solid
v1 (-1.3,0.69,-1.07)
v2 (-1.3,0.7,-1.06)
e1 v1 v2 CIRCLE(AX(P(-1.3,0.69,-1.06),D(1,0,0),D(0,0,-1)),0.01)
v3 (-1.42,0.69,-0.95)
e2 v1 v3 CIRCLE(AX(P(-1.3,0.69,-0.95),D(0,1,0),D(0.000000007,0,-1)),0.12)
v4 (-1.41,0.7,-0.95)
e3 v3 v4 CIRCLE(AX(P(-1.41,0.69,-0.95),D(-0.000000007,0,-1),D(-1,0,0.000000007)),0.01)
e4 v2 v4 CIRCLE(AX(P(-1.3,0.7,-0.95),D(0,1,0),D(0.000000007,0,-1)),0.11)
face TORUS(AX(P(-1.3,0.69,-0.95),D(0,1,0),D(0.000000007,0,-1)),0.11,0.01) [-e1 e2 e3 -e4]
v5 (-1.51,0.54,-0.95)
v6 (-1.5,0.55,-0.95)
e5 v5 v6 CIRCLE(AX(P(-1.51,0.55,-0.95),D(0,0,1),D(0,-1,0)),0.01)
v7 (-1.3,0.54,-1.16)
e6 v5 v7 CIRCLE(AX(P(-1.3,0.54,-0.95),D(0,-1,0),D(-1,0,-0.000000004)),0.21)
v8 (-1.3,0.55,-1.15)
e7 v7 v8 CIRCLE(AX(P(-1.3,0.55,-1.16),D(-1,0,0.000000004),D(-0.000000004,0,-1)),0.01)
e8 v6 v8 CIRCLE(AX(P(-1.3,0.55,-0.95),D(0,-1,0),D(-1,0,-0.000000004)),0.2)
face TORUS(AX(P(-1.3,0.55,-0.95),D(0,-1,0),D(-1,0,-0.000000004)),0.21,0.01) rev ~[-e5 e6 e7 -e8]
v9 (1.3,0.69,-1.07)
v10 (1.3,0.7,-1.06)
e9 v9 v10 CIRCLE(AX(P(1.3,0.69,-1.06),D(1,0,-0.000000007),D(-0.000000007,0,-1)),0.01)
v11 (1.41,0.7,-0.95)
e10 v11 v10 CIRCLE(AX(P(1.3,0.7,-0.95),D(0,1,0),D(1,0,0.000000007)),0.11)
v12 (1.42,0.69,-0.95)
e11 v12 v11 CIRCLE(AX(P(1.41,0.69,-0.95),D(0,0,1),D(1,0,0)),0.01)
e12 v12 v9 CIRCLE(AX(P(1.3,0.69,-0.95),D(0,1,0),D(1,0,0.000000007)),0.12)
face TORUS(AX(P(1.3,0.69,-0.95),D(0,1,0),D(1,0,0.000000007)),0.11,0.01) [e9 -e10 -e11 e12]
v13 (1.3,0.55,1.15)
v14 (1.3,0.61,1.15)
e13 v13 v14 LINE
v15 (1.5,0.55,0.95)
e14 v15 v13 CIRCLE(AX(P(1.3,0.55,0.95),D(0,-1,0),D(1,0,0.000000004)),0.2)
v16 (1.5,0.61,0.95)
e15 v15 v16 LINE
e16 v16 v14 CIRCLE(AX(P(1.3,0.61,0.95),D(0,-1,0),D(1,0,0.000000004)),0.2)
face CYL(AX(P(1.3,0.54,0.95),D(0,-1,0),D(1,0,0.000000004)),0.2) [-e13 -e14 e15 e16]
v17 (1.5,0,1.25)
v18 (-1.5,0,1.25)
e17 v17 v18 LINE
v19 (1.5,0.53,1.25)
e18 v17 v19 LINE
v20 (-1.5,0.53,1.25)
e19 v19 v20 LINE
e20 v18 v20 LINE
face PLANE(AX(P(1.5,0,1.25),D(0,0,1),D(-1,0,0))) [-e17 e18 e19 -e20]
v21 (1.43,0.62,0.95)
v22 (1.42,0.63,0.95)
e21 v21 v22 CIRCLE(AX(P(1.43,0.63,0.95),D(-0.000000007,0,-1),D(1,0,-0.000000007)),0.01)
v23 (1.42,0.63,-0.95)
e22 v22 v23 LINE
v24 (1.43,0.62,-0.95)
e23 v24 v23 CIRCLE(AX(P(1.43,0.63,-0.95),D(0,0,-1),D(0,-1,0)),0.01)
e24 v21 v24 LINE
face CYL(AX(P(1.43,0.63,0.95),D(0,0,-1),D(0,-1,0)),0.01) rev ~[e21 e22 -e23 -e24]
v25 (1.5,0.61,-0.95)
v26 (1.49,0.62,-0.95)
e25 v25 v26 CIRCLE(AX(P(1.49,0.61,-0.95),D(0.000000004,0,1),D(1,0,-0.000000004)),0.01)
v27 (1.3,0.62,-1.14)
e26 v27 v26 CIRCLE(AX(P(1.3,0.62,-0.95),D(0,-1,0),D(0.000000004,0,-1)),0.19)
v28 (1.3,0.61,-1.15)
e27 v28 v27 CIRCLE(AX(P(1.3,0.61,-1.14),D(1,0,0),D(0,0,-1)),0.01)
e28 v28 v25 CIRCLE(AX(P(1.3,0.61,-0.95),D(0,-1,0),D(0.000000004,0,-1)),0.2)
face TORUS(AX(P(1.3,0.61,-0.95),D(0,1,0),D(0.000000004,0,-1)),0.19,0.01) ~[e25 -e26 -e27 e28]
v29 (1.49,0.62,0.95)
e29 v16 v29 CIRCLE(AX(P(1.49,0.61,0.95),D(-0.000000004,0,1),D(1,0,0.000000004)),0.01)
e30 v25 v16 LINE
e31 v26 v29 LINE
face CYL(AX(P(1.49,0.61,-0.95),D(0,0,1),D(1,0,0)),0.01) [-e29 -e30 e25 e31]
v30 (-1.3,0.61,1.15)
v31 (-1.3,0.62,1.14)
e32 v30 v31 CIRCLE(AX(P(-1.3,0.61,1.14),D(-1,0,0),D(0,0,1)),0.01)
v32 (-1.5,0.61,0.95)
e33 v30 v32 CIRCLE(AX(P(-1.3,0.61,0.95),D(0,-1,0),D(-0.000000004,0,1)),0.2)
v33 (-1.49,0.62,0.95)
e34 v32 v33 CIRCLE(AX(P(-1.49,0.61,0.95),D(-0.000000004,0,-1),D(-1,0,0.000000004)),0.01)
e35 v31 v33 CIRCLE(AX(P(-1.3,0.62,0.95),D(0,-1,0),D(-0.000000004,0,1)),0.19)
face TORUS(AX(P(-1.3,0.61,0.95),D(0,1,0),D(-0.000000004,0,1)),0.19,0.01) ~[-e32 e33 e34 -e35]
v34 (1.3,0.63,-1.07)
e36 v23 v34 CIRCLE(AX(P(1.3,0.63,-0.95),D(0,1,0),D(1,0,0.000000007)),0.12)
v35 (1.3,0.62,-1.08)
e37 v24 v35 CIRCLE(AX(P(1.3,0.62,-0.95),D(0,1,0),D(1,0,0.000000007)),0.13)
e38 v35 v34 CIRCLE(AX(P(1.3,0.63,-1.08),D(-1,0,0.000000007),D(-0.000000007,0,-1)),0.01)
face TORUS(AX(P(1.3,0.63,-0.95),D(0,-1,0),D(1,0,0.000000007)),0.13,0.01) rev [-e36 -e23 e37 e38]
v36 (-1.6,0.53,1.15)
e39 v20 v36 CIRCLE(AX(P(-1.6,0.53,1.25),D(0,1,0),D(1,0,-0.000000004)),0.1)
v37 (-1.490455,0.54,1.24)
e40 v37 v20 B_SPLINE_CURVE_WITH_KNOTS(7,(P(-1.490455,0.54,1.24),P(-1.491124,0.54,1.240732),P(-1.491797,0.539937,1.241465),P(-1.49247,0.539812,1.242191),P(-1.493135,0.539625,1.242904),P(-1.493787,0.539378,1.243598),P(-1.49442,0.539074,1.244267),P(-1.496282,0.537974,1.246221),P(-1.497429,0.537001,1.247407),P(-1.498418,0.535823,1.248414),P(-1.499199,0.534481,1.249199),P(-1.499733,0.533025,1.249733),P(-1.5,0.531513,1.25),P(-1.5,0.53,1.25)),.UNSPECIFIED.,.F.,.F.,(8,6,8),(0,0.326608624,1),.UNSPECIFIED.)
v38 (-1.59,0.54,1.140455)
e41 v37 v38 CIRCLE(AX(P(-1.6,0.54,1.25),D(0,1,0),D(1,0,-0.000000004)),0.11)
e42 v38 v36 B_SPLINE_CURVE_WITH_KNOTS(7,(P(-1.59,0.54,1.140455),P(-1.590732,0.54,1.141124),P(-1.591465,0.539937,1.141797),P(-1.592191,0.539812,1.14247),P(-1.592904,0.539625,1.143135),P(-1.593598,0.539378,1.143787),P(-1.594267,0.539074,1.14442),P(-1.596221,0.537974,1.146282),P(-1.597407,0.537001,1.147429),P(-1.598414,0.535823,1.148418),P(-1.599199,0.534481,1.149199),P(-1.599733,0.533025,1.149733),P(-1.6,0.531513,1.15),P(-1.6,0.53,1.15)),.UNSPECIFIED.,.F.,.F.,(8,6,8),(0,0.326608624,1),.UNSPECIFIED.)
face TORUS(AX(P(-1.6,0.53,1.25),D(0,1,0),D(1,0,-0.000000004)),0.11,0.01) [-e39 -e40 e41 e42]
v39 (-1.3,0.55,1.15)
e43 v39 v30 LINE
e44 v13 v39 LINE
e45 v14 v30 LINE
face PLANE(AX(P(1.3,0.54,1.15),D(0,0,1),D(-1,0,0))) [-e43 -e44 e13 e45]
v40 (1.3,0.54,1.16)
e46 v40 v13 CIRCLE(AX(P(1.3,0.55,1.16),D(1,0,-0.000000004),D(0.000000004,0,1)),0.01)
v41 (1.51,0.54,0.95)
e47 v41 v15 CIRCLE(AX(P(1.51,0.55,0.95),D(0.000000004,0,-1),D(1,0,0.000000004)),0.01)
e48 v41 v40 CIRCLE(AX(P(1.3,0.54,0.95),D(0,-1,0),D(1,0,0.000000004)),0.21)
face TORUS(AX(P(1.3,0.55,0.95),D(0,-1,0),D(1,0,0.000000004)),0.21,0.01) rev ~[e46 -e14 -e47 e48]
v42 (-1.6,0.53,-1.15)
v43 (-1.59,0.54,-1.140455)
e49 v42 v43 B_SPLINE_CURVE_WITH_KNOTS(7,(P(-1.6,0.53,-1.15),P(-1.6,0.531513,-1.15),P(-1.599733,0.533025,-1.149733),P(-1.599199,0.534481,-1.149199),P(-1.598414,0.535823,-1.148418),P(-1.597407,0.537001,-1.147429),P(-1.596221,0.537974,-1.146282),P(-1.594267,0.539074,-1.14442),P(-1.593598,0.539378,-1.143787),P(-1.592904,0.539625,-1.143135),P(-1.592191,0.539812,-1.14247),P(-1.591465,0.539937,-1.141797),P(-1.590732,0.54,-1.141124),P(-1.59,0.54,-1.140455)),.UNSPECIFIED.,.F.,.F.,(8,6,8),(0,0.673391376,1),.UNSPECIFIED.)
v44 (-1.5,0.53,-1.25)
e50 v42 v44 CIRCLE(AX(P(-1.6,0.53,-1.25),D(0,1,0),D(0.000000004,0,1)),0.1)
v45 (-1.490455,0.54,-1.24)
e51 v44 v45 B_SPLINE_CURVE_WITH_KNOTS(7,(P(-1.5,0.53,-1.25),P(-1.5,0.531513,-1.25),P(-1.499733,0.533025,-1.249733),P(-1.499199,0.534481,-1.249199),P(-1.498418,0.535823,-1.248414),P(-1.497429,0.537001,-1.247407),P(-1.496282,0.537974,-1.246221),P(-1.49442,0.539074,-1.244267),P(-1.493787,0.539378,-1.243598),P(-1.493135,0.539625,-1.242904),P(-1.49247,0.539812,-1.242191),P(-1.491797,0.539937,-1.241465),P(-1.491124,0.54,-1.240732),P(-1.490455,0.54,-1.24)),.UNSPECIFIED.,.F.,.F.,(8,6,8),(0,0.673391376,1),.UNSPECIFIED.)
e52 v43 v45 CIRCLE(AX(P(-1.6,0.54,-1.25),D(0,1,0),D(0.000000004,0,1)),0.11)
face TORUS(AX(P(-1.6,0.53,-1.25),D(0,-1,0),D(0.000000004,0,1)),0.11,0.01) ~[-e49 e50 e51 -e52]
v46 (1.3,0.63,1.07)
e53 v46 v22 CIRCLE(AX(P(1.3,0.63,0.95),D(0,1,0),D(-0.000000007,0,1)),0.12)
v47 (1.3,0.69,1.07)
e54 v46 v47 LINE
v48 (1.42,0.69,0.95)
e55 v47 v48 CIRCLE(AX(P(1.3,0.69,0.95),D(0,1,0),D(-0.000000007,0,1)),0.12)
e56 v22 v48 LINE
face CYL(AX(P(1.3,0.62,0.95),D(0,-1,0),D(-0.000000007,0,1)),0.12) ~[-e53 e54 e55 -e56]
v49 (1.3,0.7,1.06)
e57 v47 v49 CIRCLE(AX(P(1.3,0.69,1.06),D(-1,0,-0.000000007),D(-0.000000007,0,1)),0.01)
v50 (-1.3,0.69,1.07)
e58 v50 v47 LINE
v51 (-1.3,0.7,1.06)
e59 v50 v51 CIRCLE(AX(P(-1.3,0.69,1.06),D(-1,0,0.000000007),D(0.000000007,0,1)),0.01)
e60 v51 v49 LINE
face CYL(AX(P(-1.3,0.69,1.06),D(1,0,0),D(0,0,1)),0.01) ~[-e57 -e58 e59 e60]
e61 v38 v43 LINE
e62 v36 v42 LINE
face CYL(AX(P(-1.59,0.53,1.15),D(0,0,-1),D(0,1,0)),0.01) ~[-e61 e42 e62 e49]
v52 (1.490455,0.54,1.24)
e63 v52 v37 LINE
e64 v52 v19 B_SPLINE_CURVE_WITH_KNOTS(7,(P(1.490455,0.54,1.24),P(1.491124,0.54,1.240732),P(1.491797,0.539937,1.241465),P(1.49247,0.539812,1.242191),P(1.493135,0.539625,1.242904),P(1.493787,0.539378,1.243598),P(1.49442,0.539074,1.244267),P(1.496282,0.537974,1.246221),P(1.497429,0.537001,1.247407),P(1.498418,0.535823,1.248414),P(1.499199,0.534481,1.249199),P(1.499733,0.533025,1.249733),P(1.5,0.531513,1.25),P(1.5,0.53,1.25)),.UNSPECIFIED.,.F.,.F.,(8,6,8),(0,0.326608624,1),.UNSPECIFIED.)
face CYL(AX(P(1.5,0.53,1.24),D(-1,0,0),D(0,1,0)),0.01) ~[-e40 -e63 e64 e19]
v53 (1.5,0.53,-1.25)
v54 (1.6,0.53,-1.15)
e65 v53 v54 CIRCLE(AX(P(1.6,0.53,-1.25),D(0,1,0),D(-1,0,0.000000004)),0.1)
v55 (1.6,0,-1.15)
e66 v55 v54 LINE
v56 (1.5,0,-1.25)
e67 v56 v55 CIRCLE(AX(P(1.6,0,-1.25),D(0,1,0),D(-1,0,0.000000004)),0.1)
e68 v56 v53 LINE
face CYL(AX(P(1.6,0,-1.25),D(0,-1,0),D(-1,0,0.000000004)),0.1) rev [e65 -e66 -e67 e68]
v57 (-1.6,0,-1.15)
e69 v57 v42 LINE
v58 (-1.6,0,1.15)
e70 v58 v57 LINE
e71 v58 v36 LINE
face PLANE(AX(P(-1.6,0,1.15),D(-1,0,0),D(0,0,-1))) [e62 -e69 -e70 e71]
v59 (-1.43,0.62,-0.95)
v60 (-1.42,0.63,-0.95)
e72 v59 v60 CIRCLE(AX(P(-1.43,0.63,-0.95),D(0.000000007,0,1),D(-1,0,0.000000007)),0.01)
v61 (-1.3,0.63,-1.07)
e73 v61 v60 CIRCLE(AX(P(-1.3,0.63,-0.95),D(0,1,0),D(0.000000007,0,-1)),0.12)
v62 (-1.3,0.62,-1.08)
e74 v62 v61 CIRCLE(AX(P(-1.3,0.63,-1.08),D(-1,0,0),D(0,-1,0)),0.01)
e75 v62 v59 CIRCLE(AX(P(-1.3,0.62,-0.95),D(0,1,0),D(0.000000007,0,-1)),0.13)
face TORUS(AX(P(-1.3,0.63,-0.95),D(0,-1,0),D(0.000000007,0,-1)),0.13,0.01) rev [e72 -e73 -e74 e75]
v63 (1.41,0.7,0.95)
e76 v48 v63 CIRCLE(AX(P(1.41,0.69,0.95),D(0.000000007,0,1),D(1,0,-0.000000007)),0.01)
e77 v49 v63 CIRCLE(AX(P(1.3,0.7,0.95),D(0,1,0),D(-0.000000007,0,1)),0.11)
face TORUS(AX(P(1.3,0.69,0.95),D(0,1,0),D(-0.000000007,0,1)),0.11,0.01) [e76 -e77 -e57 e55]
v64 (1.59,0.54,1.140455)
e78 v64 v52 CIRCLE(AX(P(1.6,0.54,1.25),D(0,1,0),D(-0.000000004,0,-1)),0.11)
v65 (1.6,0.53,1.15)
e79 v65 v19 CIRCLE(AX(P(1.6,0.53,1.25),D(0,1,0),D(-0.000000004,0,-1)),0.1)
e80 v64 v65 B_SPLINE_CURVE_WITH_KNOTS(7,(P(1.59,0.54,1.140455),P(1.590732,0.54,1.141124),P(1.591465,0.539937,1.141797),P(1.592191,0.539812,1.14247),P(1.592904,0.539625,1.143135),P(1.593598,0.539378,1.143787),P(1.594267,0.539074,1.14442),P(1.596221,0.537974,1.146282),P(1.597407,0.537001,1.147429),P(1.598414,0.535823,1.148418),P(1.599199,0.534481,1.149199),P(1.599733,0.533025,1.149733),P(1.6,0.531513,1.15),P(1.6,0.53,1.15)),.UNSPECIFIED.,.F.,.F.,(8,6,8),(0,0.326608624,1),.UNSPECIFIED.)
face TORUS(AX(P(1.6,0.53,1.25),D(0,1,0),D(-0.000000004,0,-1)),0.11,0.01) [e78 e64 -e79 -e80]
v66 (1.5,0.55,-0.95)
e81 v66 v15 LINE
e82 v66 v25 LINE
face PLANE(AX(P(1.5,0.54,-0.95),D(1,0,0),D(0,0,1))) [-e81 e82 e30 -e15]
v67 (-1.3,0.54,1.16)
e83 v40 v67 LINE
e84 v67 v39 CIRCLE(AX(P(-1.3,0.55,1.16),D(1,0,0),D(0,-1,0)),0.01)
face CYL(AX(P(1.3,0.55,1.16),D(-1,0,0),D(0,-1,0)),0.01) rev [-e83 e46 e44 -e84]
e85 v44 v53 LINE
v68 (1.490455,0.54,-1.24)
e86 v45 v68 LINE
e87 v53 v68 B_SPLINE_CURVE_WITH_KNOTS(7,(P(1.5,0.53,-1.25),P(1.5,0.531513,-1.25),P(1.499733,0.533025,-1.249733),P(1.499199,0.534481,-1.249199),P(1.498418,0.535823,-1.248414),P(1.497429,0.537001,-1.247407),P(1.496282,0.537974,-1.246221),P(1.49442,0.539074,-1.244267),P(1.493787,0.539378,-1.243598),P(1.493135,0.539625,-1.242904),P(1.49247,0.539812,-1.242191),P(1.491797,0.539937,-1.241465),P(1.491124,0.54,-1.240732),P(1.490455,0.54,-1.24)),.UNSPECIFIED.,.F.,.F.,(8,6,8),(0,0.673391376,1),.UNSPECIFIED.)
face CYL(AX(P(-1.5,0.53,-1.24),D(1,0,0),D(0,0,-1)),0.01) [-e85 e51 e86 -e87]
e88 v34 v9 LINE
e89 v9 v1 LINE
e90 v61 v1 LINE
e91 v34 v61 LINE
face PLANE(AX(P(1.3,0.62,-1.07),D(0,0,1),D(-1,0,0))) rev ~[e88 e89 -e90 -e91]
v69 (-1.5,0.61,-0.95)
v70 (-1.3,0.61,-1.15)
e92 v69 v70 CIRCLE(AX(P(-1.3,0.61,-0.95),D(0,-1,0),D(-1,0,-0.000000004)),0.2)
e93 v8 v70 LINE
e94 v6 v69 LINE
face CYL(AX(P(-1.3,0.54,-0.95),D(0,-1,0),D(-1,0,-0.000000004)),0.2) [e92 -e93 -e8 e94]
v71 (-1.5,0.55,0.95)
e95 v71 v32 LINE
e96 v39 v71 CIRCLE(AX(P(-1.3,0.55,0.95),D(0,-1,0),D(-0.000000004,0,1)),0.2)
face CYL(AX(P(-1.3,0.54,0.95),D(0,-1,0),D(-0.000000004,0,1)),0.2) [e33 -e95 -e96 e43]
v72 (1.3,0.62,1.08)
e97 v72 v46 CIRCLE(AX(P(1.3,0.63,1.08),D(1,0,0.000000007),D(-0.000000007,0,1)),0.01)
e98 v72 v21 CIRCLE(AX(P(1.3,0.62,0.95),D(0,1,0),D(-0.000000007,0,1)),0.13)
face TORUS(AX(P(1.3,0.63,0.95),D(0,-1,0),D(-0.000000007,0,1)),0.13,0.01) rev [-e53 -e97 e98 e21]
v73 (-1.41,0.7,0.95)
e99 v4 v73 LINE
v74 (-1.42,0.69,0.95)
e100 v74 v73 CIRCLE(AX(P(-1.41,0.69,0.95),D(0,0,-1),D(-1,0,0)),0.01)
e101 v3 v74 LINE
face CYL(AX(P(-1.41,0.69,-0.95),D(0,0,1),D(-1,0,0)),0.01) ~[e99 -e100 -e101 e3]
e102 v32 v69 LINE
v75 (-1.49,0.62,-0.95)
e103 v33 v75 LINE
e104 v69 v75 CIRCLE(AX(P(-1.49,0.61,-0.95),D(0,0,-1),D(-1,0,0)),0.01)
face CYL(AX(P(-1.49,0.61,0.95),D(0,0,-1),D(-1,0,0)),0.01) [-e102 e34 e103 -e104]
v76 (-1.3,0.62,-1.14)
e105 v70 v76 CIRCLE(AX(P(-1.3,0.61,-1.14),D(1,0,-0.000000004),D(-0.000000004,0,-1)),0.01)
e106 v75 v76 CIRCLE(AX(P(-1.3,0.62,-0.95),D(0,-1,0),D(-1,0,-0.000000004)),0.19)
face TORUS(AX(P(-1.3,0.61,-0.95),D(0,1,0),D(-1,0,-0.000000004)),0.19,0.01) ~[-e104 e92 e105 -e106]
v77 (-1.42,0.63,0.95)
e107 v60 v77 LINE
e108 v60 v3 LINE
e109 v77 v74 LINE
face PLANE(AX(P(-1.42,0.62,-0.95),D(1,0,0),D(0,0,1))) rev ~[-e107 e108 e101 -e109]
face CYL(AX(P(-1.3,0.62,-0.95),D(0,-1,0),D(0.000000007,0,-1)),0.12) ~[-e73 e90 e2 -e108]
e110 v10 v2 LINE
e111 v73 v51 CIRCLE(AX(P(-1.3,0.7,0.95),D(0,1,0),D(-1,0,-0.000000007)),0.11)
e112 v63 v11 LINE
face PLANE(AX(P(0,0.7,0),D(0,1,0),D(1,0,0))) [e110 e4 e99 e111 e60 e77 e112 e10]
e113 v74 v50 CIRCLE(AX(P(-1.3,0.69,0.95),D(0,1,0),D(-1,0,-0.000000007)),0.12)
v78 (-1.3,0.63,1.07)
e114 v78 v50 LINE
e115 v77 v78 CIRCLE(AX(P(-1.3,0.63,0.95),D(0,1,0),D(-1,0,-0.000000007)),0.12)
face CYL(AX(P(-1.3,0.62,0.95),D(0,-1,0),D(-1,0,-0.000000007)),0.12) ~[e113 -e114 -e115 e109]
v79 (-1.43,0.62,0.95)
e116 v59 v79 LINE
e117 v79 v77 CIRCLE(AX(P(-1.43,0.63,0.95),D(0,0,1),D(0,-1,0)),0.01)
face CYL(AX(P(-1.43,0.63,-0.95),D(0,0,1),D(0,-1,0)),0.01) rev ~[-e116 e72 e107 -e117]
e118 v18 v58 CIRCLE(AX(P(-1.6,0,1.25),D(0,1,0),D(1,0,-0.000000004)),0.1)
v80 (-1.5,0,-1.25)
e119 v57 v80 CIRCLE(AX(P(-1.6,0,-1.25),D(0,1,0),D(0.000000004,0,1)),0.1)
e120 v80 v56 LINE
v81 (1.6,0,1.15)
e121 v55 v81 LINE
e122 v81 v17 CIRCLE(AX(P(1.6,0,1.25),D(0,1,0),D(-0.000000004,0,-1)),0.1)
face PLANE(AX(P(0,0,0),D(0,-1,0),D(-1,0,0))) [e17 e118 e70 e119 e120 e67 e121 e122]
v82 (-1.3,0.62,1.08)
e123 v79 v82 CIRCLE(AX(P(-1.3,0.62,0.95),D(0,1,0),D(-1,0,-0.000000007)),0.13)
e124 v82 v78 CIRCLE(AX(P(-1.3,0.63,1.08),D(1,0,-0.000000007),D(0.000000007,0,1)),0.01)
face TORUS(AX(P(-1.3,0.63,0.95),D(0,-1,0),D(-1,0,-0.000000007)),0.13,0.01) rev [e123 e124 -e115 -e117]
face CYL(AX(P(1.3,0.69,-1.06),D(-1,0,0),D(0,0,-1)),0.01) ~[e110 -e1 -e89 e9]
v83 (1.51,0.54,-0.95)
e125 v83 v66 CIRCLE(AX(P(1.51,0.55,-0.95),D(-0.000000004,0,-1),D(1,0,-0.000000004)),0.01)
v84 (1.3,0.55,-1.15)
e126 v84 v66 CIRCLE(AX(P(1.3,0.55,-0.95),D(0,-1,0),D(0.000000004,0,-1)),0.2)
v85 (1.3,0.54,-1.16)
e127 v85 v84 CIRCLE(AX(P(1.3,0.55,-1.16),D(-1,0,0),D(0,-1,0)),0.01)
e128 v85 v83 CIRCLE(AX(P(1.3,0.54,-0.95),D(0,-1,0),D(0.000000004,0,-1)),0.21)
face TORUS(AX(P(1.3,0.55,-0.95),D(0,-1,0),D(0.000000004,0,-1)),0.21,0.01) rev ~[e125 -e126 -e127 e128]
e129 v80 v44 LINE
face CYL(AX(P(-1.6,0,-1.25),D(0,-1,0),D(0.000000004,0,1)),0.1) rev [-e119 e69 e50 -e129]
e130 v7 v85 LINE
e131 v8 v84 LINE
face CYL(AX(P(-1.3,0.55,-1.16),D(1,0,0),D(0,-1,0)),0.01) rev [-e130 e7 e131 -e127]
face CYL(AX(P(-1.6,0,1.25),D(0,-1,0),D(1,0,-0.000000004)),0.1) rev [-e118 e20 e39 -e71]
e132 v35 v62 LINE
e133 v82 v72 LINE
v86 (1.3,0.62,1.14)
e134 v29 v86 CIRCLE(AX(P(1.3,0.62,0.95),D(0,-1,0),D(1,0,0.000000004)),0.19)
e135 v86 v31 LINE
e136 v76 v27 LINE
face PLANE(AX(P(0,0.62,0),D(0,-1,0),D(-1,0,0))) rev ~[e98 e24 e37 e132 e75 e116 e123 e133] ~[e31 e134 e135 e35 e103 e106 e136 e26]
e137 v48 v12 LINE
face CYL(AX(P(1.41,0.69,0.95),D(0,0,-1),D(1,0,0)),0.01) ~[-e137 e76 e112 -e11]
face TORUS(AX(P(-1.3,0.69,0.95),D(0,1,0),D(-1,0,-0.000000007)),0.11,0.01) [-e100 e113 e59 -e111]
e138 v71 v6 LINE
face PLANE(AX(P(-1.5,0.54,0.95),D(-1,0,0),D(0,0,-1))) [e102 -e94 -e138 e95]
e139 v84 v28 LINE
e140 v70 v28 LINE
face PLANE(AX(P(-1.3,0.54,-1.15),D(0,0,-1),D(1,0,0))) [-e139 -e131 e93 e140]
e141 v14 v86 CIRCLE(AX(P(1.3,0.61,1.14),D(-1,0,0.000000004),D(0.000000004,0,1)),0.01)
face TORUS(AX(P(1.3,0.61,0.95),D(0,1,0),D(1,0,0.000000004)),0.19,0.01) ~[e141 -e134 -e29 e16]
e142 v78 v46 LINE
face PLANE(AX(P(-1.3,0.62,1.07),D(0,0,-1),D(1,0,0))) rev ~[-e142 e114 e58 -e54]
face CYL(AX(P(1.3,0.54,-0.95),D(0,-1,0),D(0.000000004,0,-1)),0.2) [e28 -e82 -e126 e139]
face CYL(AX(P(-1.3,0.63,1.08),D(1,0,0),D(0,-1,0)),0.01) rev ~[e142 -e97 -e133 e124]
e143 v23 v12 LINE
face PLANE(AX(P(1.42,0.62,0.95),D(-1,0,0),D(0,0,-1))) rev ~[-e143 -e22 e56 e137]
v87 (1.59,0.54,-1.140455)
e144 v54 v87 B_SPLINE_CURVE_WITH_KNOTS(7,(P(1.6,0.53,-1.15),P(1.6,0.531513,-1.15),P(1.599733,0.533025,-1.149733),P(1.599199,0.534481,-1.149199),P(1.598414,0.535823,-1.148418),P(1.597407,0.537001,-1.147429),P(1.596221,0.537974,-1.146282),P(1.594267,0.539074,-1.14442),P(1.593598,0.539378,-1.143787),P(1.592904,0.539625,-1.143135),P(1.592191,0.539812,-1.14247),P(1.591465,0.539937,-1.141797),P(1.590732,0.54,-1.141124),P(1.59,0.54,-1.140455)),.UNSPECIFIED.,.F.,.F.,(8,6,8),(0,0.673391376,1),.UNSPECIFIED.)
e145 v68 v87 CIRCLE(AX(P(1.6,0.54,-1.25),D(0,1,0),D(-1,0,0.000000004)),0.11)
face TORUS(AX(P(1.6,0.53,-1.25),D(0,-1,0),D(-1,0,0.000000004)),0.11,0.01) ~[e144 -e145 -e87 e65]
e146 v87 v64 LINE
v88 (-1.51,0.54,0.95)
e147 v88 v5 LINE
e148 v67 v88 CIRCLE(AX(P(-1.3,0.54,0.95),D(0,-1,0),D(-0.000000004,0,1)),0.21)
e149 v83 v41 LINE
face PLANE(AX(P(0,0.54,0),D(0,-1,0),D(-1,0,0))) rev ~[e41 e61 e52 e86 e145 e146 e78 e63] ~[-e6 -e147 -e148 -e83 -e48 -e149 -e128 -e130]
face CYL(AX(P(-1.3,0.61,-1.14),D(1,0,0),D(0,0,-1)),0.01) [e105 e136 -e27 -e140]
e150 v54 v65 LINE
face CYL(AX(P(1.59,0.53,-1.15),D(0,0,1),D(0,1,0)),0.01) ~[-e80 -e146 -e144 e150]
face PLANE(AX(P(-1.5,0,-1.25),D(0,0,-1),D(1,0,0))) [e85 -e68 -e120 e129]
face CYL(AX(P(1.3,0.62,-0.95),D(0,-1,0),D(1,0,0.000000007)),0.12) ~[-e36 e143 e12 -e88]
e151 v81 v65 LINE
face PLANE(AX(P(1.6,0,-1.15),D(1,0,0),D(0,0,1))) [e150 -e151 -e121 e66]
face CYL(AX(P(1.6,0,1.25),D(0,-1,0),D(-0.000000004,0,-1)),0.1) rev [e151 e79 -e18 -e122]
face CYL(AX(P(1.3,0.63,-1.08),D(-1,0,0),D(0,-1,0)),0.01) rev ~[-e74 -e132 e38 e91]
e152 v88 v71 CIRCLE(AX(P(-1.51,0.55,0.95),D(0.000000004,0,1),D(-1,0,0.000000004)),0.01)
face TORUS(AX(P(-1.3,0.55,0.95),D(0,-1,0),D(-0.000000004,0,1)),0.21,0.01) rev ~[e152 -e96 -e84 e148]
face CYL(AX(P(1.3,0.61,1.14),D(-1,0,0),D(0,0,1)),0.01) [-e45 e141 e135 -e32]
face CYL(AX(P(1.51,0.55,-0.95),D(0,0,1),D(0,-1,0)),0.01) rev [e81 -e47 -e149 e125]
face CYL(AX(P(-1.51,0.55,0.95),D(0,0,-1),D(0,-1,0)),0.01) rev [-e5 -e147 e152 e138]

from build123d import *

# Parameters (mm, degrees)
BOSS_EXTRUDE1_DEPTH = 0.54
BOSS_EXTRUDE2_DEPTH = 0.08
BOSS_EXTRUDE3_DEPTH = 0.08
FILLET1_R           = 0.01


with BuildPart() as part:
    # Sketch1 → Boss-Extrude1 (new body)
    with BuildSketch(Plane(origin=(0, 0, 0), x_dir=(1, 0, 0), z_dir=(0, 1, 0))):
        with BuildLine():
            Line((-1.5, 1.25), (1.5, 1.25))
            ThreePointArc((1.5, 1.25), (1.529289322, 1.179289322), (1.6, 1.15))
            Line((1.6, 1.15), (1.6, -1.15))
            ThreePointArc((1.6, -1.15), (1.529289322, -1.179289322), (1.5, -1.25))
            Line((1.5, -1.25), (-1.5, -1.25))
            ThreePointArc((-1.5, -1.25), (-1.529289322, -1.179289322), (-1.6, -1.15))
            Line((-1.6, -1.15), (-1.6, 1.15))
            ThreePointArc((-1.6, 1.15), (-1.529289322, 1.179289322), (-1.5, 1.25))
        make_face()
    extrude(amount=BOSS_EXTRUDE1_DEPTH)

    # Sketch2 → Boss-Extrude2 (add)
    with BuildSketch(Plane(origin=(0, 0.54, 0), x_dir=(1, 0, 0), z_dir=(0, 1, 0))):
        with BuildLine():
            Line((-1.3, 1.15), (1.3, 1.15))
            ThreePointArc((1.3, 1.15), (1.441421356, 1.091421356), (1.5, 0.95))
            Line((1.5, 0.95), (1.5, -0.95))
            ThreePointArc((1.5, -0.95), (1.441421356, -1.091421356), (1.3, -1.15))
            Line((1.3, -1.15), (-1.3, -1.15))
            ThreePointArc((-1.3, -1.15), (-1.441421356, -1.091421356), (-1.5, -0.95))
            Line((-1.5, -0.95), (-1.5, 0.95))
            ThreePointArc((-1.5, 0.95), (-1.441421356, 1.091421356), (-1.3, 1.15))
        make_face()
    extrude(amount=BOSS_EXTRUDE2_DEPTH)

    # Sketch4 → Boss-Extrude3 (add)
    with BuildSketch(Plane(origin=(0, 0.62, 0), x_dir=(1, 0, 0), z_dir=(0, 1, 0))):
        with BuildLine():
            Line((1.42, -0.95), (1.42, 0.95))
            ThreePointArc((1.42, 0.95), (1.384852814, 1.034852814), (1.3, 1.07))
            Line((1.3, 1.07), (-1.3, 1.07))
            ThreePointArc((-1.3, 1.07), (-1.384852814, 1.034852814), (-1.42, 0.95))
            Line((-1.42, 0.95), (-1.42, -0.95))
            ThreePointArc((-1.42, -0.95), (-1.384852814, -1.034852814), (-1.3, -1.07))
            Line((-1.3, -1.07), (1.3, -1.07))
            ThreePointArc((1.3, -1.07), (1.384852814, -1.034852814), (1.42, -0.95))
        make_face()
    extrude(amount=BOSS_EXTRUDE3_DEPTH)

    # Fillet1
    fillet1_edges = [part.edges().sort_by_distance(p)[0] for p in [
        (1.529289322, 0.54, -1.179289322),
        (0, 0.54, -1.25),
        (-1.529289322, 0.54, -1.179289322),
        (-1.6, 0.54, 0),
        (-1.529289322, 0.54, 1.179289322),
        (0, 0.54, 1.25),
        (1.441421356, 0.54, 1.091421356),
        (1.5, 0.54, 0),
        (1.441421356, 0.54, -1.091421356),
        (0, 0.54, -1.15),
        (-1.441421356, 0.54, -1.091421356),
        (-1.5, 0.54, 0),
        (-1.441421356, 0.54, 1.091421356),
        (0, 0.54, 1.15),
        (1.441421356, 0.62, 1.091421356),
        (1.5, 0.62, 0),
        (1.441421356, 0.62, -1.091421356),
        (0, 0.62, -1.15),
        (-1.441421356, 0.62, -1.091421356),
        (-1.5, 0.62, 0),
        (-1.441421356, 0.62, 1.091421356),
        (0, 0.62, 1.15),
        (1.529289322, 0.54, 1.179289322),
        (1.384852814, 0.62, 1.034852814),
        (1.42, 0.62, 0),
        (1.384852814, 0.62, -1.034852814),
        (0, 0.62, -1.07),
        (-1.384852814, 0.62, -1.034852814),
        (-1.42, 0.62, 0),
        (-1.384852814, 0.62, 1.034852814),
        (0, 0.62, 1.07),
        (1.384852814, 0.7, 1.034852814),
        (1.42, 0.7, 0),
        (1.384852814, 0.7, -1.034852814),
        (0, 0.7, -1.07),
        (-1.384852814, 0.7, -1.034852814),
        (-1.42, 0.7, 0),
        (-1.384852814, 0.7, 1.034852814),
        (0, 0.7, 1.07),
        (1.6, 0.54, 0),
    ]]
    fillet(fillet1_edges, radius=FILLET1_R)


solid = part.part
